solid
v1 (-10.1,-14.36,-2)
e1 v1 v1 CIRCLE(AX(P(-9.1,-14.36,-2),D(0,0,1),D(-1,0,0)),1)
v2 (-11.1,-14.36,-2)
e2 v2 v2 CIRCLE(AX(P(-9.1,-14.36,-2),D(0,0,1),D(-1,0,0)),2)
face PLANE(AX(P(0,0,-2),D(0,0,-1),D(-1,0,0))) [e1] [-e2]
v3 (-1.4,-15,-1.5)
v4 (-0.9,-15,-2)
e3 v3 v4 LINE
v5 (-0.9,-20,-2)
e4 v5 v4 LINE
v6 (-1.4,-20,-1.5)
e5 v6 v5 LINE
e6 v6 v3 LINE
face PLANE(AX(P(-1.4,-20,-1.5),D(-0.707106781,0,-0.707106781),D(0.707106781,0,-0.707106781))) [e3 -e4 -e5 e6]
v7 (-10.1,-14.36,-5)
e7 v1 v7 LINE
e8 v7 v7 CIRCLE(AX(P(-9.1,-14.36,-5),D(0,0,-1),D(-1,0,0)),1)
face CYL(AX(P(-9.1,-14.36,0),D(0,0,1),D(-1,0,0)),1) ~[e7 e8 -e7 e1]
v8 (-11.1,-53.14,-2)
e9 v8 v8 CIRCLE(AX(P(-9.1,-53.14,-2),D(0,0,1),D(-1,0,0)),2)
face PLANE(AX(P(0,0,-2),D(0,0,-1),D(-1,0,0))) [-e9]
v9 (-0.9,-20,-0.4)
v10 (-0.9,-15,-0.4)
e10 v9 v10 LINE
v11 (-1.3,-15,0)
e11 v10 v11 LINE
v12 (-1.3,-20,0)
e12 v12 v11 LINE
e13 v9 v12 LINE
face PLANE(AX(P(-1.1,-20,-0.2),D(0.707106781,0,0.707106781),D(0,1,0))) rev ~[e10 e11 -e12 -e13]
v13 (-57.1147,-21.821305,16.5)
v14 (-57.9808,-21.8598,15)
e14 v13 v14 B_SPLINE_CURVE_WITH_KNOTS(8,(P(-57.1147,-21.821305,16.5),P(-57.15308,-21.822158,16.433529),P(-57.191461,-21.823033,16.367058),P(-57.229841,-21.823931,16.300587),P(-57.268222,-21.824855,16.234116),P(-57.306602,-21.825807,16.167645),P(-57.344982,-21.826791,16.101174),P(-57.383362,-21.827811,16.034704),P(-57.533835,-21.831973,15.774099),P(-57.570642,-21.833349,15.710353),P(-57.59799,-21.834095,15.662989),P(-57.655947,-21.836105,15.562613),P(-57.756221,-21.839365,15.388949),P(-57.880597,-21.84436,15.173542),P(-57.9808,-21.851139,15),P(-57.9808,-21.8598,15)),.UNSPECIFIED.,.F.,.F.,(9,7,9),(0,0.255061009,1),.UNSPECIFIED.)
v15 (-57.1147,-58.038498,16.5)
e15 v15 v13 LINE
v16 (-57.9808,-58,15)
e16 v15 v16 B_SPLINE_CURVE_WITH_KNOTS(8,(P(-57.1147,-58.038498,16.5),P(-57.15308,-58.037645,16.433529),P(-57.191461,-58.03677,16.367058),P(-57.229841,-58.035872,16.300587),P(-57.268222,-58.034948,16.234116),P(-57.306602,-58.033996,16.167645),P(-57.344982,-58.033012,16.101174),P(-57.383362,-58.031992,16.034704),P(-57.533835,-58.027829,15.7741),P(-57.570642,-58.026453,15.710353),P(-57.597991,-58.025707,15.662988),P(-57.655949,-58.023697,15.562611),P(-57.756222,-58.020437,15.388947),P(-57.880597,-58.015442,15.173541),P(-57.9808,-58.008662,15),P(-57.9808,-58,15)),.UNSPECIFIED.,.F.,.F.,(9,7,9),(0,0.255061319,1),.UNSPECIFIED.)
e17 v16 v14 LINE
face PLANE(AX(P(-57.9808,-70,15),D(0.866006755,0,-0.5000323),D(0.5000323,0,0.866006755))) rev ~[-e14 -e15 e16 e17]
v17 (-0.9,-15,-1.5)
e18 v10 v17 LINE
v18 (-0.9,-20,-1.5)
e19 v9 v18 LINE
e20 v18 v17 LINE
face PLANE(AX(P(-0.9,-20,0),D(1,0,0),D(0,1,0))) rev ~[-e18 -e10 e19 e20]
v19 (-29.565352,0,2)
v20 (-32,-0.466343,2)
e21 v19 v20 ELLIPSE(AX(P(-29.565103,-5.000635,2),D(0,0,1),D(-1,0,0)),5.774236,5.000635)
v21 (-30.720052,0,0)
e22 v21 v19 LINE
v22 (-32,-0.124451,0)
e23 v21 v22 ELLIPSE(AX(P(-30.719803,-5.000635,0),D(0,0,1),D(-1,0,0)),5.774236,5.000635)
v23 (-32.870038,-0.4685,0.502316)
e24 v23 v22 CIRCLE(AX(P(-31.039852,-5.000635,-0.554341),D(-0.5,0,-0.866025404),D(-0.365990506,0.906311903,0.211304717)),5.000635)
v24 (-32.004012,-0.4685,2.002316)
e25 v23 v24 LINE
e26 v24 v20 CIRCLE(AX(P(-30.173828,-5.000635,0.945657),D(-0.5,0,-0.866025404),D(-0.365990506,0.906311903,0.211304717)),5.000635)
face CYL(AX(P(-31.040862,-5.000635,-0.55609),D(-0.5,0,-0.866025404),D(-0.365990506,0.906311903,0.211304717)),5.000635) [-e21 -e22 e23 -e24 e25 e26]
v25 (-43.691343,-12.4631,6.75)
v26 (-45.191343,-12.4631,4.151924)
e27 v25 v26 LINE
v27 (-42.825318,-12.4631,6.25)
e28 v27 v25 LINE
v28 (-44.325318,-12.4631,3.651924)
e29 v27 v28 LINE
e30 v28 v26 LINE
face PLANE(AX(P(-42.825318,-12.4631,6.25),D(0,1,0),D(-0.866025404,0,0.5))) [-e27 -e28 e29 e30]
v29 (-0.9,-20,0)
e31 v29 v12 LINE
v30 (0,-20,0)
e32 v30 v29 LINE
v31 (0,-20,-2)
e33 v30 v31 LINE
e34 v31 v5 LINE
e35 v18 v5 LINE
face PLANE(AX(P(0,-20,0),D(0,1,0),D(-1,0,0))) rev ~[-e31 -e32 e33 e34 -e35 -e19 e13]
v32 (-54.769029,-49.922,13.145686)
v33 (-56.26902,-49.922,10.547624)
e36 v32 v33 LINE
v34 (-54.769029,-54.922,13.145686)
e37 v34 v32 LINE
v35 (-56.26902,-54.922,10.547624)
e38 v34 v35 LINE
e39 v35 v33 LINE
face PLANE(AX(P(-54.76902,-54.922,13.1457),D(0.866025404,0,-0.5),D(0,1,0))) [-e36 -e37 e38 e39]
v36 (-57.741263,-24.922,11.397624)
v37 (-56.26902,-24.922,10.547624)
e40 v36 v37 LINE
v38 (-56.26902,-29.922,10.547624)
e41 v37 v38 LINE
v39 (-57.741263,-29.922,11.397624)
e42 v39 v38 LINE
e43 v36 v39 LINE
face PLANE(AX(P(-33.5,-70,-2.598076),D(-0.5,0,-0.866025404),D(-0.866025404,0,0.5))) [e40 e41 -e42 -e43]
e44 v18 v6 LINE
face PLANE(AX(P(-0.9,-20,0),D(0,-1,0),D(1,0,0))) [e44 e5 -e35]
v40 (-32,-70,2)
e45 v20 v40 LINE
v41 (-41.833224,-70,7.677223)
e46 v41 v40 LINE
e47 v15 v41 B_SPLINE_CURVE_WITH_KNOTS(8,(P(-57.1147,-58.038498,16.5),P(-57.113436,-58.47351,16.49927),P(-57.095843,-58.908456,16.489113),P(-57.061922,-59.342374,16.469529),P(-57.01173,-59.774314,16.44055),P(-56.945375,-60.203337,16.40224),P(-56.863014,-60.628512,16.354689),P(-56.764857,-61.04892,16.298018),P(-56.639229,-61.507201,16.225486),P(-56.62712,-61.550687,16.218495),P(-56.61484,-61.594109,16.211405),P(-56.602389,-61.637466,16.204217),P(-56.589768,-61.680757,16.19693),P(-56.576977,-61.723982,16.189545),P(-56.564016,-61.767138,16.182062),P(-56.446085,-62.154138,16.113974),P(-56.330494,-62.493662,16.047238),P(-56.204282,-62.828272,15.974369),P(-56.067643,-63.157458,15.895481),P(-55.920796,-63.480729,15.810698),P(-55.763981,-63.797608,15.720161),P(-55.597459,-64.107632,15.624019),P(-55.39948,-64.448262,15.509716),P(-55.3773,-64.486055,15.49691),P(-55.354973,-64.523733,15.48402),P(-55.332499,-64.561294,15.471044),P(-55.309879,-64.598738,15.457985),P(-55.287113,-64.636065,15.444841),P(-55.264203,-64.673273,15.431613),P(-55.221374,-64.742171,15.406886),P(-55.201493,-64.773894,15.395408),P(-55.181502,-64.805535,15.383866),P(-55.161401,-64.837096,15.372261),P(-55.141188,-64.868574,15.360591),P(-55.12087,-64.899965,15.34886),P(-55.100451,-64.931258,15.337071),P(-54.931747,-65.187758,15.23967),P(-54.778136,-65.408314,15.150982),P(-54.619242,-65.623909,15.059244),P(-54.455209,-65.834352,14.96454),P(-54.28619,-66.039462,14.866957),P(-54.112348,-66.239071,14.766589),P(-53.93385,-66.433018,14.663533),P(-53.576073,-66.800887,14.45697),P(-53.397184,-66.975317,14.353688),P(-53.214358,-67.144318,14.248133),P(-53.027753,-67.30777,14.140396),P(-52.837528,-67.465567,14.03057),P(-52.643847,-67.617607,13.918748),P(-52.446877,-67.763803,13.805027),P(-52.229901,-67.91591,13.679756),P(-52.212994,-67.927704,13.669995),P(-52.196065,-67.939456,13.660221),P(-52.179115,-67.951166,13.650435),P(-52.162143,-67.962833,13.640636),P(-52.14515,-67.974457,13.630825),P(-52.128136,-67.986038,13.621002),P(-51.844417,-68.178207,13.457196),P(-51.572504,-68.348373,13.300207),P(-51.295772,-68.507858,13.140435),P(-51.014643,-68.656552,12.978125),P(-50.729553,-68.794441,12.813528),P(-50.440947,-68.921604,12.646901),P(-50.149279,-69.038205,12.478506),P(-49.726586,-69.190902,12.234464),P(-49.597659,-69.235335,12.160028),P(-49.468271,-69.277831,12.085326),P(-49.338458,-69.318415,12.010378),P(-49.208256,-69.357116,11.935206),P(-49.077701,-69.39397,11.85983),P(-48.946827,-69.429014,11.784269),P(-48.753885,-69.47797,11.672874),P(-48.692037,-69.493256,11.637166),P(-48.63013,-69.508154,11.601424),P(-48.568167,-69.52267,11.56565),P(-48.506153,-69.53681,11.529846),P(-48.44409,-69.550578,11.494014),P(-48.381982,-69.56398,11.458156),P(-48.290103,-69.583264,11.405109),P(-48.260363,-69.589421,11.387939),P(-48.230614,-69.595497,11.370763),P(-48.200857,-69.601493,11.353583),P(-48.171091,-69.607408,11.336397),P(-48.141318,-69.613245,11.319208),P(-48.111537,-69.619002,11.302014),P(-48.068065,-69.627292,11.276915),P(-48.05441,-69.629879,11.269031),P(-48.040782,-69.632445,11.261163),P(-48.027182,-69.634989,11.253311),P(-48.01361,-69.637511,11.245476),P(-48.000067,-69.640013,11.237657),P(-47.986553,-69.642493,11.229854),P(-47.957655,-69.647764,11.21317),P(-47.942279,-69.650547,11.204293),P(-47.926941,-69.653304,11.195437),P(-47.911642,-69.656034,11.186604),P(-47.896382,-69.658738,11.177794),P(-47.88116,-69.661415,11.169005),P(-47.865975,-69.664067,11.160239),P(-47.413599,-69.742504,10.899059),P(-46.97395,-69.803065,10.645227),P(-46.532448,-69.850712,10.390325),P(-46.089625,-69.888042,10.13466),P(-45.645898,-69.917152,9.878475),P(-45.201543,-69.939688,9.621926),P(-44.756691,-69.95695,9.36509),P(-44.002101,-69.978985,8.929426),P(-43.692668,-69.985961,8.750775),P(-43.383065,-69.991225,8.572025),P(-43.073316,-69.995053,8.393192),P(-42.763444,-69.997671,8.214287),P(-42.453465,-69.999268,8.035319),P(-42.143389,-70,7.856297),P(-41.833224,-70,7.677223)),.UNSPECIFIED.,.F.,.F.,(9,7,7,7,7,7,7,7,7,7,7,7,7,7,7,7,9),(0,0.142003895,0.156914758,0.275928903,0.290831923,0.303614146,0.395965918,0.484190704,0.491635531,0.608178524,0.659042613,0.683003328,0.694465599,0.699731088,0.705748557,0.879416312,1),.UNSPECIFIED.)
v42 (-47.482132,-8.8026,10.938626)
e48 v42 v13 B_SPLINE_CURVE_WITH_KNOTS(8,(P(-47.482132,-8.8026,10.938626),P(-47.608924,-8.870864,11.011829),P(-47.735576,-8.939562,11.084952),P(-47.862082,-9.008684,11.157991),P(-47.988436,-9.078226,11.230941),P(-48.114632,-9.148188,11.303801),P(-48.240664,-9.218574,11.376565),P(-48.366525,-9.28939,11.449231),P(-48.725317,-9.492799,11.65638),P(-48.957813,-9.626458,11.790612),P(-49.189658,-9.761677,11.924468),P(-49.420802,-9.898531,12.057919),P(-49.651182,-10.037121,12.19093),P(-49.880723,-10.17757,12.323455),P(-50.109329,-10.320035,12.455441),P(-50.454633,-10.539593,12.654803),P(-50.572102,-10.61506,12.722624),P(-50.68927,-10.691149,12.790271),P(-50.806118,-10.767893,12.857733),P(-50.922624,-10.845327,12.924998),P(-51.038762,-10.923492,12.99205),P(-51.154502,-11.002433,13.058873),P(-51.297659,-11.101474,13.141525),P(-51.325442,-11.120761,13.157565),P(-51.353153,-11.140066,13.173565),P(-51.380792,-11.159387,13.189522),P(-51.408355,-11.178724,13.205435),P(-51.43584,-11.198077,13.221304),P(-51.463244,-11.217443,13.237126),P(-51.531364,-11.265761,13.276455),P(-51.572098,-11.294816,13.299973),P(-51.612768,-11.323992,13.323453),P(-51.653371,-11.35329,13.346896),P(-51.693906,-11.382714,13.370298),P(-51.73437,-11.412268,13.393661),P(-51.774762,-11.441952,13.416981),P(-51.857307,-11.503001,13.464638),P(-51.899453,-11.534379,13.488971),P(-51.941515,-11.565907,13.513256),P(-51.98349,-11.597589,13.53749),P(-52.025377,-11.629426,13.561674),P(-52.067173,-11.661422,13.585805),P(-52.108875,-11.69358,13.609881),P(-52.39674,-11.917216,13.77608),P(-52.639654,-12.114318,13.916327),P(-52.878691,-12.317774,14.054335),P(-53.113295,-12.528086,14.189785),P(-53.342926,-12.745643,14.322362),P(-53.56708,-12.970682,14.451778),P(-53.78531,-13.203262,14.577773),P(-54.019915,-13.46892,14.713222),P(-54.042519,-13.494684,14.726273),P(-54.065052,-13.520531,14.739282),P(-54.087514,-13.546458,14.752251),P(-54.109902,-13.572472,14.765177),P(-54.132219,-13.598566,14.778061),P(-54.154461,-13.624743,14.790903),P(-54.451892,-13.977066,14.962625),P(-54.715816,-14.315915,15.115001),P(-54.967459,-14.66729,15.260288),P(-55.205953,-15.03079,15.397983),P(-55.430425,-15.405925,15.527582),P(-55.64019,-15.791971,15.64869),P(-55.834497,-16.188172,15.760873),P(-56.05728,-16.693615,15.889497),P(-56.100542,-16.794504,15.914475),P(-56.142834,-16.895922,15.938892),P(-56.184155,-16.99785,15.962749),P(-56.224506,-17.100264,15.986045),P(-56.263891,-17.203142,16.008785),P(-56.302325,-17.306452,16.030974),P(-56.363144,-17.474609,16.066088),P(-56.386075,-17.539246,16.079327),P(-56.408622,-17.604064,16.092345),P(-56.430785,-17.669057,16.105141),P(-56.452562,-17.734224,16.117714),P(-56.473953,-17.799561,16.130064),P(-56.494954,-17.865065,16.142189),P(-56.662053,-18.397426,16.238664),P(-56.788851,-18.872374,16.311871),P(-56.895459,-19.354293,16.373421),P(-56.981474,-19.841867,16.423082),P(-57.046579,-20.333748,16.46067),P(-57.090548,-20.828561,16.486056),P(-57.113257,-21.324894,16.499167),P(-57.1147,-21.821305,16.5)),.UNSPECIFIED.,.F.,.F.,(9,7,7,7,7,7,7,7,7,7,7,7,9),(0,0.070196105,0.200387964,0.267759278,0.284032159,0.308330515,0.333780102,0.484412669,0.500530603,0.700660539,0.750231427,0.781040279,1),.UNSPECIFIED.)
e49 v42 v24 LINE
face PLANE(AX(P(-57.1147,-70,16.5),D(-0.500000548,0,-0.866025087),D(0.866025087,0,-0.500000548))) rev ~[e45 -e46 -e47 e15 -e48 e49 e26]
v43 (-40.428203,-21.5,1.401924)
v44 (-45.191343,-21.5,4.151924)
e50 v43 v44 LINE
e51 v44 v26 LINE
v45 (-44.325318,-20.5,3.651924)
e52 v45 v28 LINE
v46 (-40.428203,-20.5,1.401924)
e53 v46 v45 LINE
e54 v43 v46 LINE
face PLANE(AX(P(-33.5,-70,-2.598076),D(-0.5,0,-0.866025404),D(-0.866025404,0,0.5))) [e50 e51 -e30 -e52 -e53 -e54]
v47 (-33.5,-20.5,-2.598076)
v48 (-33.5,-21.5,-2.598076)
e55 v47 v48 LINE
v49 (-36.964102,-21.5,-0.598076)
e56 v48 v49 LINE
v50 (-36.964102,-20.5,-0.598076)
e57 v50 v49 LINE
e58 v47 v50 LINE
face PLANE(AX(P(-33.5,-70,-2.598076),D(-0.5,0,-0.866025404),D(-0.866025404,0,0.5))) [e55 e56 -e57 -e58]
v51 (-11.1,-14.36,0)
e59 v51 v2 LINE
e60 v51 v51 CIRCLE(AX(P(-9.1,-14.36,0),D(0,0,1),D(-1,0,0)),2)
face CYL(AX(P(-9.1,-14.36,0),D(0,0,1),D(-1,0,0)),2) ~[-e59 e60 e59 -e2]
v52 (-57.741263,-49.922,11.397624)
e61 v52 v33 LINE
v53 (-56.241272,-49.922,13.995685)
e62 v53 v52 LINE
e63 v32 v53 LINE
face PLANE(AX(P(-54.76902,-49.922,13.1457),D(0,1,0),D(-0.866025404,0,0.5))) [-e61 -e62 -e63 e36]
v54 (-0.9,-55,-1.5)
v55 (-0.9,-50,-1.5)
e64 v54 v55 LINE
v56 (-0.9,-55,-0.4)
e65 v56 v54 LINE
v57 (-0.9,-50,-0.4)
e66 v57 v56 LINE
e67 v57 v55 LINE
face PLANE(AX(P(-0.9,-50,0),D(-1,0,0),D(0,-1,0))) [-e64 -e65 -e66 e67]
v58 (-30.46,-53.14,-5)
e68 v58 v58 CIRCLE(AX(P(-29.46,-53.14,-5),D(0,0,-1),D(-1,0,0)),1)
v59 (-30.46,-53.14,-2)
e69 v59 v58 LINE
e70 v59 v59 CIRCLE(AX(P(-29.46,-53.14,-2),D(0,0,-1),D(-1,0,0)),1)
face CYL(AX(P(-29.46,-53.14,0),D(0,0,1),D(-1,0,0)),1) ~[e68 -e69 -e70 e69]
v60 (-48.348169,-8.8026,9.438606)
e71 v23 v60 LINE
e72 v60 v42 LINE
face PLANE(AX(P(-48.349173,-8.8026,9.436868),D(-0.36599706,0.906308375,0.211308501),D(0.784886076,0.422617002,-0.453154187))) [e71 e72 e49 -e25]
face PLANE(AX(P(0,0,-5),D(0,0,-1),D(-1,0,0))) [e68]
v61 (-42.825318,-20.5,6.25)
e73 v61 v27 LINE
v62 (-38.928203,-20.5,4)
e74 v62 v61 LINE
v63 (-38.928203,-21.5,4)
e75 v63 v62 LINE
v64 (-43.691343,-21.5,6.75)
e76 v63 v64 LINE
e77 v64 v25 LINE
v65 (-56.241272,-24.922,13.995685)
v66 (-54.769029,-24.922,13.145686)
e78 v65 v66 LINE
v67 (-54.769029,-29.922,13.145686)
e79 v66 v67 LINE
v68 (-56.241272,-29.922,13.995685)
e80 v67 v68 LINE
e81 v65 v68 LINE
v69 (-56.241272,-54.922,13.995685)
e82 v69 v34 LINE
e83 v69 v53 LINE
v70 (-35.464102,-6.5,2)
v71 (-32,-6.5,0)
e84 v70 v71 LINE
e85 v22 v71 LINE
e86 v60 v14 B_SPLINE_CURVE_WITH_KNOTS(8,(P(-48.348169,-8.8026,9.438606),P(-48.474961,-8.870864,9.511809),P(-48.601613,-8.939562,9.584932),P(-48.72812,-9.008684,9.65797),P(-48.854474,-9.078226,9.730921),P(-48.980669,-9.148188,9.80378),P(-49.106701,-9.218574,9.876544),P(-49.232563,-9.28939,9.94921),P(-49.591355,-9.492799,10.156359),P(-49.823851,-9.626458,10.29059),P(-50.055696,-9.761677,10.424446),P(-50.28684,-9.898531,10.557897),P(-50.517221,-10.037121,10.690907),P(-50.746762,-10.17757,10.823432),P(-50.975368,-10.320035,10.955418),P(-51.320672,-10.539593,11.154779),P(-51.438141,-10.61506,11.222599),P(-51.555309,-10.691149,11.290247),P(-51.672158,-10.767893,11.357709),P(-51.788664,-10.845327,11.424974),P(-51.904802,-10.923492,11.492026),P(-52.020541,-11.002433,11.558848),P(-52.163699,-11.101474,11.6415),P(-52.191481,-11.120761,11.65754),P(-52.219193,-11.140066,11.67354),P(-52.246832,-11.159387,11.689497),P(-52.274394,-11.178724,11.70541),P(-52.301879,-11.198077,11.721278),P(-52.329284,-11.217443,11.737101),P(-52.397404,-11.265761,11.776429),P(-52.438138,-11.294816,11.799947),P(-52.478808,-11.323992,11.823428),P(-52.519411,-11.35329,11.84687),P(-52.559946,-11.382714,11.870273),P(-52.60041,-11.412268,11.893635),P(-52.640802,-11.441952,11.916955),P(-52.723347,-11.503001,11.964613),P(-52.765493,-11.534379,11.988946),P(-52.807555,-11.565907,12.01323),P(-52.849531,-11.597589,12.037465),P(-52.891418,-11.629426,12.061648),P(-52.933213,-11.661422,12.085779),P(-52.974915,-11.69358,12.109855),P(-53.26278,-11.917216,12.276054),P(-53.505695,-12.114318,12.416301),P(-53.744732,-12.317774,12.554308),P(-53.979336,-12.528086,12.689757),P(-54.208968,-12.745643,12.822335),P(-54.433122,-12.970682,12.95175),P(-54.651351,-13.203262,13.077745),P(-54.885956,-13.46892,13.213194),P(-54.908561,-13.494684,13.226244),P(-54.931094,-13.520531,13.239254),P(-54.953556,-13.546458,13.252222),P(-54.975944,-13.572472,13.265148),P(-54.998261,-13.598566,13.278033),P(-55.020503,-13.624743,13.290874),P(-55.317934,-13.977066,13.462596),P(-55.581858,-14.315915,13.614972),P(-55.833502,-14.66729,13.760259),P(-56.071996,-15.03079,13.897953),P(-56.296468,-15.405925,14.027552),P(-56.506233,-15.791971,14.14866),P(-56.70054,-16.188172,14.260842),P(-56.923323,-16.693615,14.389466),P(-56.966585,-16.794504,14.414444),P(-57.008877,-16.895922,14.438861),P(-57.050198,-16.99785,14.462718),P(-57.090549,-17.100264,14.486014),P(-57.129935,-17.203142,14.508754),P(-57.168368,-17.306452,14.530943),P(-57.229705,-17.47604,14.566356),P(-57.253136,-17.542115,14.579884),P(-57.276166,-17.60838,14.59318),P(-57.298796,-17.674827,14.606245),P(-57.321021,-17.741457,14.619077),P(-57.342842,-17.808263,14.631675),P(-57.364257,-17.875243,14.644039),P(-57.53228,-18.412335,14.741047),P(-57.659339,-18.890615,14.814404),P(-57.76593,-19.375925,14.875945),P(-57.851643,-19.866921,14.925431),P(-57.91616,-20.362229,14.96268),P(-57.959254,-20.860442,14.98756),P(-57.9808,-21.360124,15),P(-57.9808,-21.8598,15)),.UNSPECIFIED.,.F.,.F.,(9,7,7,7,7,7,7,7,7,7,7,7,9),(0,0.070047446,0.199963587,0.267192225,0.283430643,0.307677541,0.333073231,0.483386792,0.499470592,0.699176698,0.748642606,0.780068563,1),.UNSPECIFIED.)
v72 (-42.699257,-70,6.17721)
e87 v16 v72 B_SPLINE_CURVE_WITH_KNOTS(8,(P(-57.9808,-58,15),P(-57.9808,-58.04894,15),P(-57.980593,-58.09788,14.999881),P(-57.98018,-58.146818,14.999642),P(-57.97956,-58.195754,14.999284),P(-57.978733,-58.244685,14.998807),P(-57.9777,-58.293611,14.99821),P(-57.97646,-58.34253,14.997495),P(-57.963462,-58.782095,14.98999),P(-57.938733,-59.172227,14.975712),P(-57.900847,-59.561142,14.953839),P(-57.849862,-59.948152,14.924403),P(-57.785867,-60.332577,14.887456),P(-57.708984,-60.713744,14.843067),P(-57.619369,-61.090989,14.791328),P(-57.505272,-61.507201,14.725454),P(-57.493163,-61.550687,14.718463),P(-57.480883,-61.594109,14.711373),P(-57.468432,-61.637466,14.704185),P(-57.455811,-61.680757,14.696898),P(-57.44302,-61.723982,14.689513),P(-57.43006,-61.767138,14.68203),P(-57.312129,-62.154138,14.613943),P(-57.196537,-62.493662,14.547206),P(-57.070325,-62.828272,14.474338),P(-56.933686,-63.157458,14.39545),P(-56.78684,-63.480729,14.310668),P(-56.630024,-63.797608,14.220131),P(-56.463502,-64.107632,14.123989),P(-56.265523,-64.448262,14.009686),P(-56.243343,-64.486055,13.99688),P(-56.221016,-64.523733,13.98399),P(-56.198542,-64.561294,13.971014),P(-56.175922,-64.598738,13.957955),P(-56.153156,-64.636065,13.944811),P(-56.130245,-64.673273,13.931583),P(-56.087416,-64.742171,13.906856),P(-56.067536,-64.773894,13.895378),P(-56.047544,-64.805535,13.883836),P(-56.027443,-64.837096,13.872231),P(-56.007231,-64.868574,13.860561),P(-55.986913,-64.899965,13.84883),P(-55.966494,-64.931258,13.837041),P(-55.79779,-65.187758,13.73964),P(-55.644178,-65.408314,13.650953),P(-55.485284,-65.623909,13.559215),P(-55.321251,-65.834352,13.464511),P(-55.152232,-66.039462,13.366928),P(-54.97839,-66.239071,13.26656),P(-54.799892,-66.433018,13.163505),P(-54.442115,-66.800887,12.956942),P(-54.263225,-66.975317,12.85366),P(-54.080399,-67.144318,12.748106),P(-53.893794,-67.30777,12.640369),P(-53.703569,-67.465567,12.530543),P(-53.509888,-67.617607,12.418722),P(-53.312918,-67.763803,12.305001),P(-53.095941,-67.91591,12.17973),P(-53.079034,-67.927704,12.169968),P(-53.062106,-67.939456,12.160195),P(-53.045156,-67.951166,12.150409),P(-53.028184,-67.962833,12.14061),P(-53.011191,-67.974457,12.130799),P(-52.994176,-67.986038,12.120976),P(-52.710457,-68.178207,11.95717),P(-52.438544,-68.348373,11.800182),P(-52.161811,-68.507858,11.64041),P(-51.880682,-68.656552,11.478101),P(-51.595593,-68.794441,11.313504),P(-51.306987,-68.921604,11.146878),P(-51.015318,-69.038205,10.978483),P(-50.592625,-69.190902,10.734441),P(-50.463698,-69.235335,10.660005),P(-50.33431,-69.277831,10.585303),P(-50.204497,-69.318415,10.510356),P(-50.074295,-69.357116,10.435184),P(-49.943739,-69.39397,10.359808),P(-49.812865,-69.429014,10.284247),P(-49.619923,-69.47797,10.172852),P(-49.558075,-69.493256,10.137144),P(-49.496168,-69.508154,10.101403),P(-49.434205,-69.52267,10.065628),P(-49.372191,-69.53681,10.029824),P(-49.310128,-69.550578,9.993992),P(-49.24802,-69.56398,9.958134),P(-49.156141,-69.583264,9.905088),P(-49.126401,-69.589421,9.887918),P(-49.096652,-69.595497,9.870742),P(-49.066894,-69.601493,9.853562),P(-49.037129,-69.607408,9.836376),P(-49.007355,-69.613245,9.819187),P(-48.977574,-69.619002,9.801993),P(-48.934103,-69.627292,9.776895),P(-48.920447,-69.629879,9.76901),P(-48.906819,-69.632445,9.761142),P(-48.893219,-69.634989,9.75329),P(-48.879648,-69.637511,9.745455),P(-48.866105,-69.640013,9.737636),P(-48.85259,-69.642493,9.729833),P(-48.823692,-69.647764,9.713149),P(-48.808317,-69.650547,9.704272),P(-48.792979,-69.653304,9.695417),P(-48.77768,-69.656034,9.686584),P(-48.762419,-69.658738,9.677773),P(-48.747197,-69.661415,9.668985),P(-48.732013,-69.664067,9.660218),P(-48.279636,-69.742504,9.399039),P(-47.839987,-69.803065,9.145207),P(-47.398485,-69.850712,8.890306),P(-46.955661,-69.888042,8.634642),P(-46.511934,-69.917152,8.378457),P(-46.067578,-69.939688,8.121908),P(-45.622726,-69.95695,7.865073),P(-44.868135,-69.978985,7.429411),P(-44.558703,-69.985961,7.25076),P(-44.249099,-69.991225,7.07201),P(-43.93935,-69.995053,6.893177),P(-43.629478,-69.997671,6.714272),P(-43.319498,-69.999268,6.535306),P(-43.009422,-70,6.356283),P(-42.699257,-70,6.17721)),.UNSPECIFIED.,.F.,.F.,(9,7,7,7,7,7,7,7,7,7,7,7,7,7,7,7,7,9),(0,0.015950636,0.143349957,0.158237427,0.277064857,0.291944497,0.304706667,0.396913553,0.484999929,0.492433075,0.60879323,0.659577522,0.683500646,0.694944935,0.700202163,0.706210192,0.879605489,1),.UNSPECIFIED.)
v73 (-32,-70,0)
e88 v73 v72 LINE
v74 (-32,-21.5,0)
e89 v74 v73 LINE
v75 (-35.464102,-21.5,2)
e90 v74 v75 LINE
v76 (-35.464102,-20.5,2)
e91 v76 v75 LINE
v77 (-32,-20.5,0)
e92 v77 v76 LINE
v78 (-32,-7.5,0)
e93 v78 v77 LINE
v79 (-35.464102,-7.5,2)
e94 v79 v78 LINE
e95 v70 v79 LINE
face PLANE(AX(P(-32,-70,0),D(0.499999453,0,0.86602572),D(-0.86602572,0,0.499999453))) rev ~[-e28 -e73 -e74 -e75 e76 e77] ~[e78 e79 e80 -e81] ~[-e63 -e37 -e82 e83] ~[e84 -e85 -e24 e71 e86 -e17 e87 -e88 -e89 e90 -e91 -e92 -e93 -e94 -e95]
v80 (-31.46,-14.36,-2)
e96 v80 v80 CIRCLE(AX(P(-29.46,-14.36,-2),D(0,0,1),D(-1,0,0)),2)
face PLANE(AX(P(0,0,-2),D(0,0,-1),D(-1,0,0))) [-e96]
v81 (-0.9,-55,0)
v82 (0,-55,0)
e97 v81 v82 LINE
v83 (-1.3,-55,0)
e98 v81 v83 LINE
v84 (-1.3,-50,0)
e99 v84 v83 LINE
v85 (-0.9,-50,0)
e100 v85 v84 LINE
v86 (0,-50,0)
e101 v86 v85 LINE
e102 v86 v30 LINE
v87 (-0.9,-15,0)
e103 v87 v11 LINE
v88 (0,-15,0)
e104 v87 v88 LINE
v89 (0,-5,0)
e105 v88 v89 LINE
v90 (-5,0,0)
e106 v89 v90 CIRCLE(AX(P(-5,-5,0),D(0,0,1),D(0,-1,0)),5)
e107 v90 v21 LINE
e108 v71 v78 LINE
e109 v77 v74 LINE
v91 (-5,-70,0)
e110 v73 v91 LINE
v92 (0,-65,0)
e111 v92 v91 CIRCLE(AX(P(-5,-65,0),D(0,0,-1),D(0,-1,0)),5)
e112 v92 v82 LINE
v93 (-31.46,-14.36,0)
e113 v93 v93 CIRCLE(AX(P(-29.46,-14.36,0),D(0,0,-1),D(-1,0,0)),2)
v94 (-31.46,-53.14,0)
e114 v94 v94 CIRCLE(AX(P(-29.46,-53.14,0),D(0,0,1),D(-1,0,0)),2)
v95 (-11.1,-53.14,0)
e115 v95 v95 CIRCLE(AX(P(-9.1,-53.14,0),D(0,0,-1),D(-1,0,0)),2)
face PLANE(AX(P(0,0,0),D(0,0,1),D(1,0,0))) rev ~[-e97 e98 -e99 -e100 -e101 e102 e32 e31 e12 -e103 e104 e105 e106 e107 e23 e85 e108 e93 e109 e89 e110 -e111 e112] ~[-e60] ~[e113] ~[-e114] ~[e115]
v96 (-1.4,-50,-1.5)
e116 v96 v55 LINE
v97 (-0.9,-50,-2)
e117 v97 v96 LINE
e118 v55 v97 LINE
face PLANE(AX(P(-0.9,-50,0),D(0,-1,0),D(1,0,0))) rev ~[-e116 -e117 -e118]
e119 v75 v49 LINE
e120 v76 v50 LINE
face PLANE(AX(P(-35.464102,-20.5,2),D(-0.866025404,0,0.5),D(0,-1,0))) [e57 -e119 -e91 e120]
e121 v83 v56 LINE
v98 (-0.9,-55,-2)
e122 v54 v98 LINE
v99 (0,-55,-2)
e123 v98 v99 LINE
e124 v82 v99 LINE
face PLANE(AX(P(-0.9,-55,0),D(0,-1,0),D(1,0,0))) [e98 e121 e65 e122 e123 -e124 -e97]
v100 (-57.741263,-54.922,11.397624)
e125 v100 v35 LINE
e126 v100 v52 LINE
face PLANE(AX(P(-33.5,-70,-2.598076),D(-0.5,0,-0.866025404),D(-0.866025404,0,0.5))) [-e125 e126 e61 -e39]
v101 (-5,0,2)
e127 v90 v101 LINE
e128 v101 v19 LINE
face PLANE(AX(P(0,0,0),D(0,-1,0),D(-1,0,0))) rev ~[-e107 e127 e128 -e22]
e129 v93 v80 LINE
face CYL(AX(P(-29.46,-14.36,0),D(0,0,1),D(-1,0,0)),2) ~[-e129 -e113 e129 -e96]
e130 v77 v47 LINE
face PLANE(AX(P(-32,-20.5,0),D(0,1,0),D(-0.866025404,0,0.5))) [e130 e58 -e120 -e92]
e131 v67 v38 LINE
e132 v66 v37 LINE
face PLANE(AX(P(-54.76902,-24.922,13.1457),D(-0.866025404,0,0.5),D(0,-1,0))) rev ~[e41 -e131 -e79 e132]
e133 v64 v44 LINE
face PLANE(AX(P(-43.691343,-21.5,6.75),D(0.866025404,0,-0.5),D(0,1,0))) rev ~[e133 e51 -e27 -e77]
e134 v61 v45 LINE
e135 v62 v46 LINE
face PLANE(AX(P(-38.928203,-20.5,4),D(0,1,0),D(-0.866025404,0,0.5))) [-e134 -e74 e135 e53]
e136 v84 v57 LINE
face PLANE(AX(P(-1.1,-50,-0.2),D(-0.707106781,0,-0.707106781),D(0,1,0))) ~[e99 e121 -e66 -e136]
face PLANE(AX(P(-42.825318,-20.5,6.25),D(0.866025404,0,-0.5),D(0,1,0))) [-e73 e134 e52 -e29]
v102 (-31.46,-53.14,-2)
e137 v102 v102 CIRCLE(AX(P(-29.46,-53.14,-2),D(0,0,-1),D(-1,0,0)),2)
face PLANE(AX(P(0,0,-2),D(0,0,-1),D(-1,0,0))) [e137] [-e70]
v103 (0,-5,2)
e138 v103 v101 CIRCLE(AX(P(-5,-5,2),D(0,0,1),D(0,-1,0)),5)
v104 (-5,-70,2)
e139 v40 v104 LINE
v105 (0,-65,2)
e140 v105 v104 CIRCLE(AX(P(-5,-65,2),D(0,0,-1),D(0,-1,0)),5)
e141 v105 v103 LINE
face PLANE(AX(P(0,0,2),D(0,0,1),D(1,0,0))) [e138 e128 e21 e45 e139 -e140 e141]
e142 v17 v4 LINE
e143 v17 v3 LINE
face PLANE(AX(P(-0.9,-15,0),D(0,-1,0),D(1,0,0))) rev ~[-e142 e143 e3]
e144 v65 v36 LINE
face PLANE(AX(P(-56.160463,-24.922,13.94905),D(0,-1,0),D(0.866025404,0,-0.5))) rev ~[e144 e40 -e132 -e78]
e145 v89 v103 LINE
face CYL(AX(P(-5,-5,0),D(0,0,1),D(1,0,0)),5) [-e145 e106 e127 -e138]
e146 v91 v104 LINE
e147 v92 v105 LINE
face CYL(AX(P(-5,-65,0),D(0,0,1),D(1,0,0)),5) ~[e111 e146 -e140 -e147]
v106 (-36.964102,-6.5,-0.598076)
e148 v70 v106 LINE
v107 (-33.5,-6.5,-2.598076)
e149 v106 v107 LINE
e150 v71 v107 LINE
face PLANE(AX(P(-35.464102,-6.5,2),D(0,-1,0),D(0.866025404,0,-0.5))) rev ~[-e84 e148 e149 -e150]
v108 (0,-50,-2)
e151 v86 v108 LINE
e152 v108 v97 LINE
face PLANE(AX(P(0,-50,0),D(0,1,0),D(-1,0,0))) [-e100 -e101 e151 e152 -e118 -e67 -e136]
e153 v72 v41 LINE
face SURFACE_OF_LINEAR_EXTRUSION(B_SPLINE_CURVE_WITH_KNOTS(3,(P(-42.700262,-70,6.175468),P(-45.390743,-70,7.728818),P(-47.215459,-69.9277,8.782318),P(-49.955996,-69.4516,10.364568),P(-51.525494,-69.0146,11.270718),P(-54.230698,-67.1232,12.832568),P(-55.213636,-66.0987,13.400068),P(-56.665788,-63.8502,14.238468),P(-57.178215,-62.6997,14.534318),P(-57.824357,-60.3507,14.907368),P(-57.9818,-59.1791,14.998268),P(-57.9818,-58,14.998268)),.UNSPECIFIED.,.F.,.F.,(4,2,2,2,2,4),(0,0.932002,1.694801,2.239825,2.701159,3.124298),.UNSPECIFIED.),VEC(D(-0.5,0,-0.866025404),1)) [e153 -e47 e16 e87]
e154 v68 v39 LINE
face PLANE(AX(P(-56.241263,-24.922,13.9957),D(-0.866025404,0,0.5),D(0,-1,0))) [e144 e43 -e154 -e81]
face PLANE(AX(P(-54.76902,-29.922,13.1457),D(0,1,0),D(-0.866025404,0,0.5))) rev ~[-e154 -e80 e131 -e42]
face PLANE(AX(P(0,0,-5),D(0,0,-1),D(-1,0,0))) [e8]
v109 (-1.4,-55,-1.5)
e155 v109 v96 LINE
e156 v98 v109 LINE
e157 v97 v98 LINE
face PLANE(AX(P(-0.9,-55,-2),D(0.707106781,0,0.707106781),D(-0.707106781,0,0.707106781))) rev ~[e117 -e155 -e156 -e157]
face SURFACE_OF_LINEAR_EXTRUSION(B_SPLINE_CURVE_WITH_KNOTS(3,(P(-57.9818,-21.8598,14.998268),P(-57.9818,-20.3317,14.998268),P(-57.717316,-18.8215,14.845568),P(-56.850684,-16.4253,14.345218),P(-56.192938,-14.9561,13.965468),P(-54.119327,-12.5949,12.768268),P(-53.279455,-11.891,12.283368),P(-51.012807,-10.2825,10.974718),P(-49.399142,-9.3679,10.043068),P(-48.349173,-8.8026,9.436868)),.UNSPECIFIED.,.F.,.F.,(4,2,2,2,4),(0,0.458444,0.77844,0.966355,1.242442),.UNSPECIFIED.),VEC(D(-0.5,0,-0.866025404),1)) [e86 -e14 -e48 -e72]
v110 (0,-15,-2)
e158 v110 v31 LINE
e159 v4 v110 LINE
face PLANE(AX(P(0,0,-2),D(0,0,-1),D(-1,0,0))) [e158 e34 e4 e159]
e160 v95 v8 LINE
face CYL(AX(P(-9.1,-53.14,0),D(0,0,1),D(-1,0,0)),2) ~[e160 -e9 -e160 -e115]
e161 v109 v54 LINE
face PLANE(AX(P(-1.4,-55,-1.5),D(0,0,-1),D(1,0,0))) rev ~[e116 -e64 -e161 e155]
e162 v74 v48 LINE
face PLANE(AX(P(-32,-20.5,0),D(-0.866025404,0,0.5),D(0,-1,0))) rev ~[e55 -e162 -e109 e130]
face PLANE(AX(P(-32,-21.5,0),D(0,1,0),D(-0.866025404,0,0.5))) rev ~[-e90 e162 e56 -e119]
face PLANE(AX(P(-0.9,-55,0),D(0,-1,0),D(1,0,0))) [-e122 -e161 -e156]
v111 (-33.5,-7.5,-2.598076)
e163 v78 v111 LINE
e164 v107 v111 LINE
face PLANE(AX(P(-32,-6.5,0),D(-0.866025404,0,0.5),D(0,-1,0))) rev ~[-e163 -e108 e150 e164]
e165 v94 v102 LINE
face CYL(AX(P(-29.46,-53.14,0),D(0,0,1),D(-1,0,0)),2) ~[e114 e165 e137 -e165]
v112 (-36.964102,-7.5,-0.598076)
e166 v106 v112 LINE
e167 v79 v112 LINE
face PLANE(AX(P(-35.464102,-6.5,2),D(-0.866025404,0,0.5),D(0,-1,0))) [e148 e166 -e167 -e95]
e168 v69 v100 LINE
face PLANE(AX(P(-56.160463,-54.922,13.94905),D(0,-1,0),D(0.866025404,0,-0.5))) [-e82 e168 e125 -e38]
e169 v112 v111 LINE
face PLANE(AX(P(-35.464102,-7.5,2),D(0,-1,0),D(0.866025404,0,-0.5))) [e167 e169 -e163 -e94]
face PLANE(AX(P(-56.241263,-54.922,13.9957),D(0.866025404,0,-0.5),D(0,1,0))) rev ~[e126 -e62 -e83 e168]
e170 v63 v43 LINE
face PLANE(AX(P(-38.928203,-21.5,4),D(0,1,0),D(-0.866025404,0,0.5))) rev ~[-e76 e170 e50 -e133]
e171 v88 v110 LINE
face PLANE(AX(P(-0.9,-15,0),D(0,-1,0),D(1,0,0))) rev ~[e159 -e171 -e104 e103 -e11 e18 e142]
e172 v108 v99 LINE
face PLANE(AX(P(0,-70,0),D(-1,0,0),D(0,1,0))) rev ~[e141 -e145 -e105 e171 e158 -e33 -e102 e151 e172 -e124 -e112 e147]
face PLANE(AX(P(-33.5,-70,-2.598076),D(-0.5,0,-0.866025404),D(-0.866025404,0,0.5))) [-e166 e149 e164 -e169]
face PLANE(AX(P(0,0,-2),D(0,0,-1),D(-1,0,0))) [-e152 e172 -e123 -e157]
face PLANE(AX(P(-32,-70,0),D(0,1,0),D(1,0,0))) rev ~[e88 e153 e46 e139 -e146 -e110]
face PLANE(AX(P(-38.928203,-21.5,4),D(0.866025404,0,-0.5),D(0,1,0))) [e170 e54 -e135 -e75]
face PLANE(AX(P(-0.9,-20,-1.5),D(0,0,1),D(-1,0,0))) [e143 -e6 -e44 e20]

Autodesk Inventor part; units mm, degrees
ref_plane "YZ Plane" through (0, 0, 0) normal (1, 0, 0) x (0, 1, 0)
ref_plane "XZ Plane" through (0, 0, 0) normal (0, 1, 0) x (-1, 0, 0)
ref_plane "XY Plane" through (0, 0, 0) normal (0, 0, 1) x (1, 0, 0)
sketch "スケッチ1" plane through (0, 0, 0) normal (0, 0, 1) x (1, 0, 0)
  line L0 (0, 0) -> (-32, 0)
  line L1 (-32, 0) -> (-32, -70)
  line L2 (-32, -70) -> (0, -70)
  line L3 (0, -70) -> (0, 0)
  dimension "d0" = 32
  dimension "d1" = 70
extrude "押し出し1" add sketch "スケッチ1" along normal blind 2
sketch "スケッチ2" plane through (-32, -70, 0) normal (0, -1, 0) x (1, 0, 0)
  line L0 (0, 0) -> (32, 0) projected
  line L1 (32, 0) -> (32, 2) projected
  line L2 (0, 2) -> (32, 2) projected
  line L3 (0, 0) -> (0, 2) projected
  line L4 (0, 0) -> (-25.9808, 15)
  line L5 (-25.9808, 15) -> (-25.1147, 16.5)
  line L6 (-25.1147, 16.5) -> (0, 2)
  point P0 (32, 0)
  dimension "d4" = 30
  dimension "d5" = 150
extrude "押し出し2" add sketch "スケッチ2" against normal blind 70 contours L4 L5 L6 L3
sketch "スケッチ3" plane through (0, 0, 0) normal (0, 0, -1) x (-1, 0, 0)
  line L0 (0, 0) -> (32, 0) projected
  line L1 (32, 0) -> (57.9808, -12.115)
  line L2 (32, 0) -> (57.9808, 0) projected
  line L3 (57.9808, -70) -> (57.9808, 0) projected
  dimension "d8" = 25
extrude "押し出し3" cut sketch "スケッチ3" against normal blind 70
sketch "スケッチ4" plane through (0, 0, 0) normal (0, 0, -1) x (-1, 0, 0)
  circle A0 centre (9.1, -14.36) radius 1.15 projected
  circle A1 centre (29.46, -53.14) radius 1.15 projected
  circle A2 centre (9.1, -14.36) radius 1
  circle A3 centre (29.46, -53.14) radius 1
  point P0 (0, 0)
  dimension "d11" = 2
  dimension "d12" = 2
extrude "押し出し4" add sketch "スケッチ4" along normal blind 5 contours A2 | A3
sketch "スケッチ5" plane through (0, 0, 0) normal (0, 0, -1) x (-1, 0, 0)
  circle A0 centre (9.1, -14.36) radius 1 projected
  circle A1 centre (29.46, -53.14) radius 1 projected
  circle A2 centre (9.1, -14.36) radius 2
  circle A3 centre (29.46, -53.14) radius 2
  line L0 (9.1, -14.36) -> (29.46, -14.36)
  line L1 (29.46, -14.36) -> (29.46, -53.14)
  line L2 (29.46, -53.14) -> (9.1, -53.14)
  line L3 (9.1, -53.14) -> (9.1, -14.36)
  circle A4 centre (29.46, -14.36) radius 2
  circle A5 centre (9.1, -53.14) radius 2
  point P0 (0, 0)
  dimension "d15" = 4
  dimension "d16" = 4
  dimension "d17" = 4
  dimension "d18" = 4
extrude "押し出し5" add sketch "スケッチ5" along normal blind 2 contours L0 L3 A0 | L0 A2 L3 A0 | A0 L3 L0 | A0 L3 A2 L0 | A4 L1 L0 | L0 L1 A4 | A5 L2 L3 | L3 L2 A5 | L1 A1 L2 A3 | A3 L2 A1 L1
sketch "スケッチ6" plane through (-32, -70, 0) normal (-0.5, 0, -0.866) x (-0.866, 0, 0.5)
  circle A0 centre (6, 56) radius 4 projected
  line L0 (12, 62) -> (0, 62) projected
  line L1 (0, 62) -> (0, 50) projected
  line L2 (0, 50) -> (12, 50) projected
  line L3 (12, 50) -> (12, 62) projected
  line L4 (12.5, 62.5) -> (-0.5, 62.5)
  line L5 (-0.5, 62.5) -> (-0.5, 49.5)
  line L6 (-0.5, 49.5) -> (12.5, 49.5)
  line L7 (12.5, 49.5) -> (12.5, 62.5)
  line L8 (13.5, 63.5) -> (-1.5, 63.5)
  line L9 (-1.5, 63.5) -> (-1.5, 48.5)
  line L10 (-1.5, 48.5) -> (13.5, 48.5)
  line L11 (13.5, 48.5) -> (13.5, 63.5)
  line L12 (4, 48.5) -> (8, 48.5)
  line L13 (8, 48.5) -> (8, 49.5)
  line L14 (8, 49.5) -> (4, 49.5)
  line L15 (4, 49.5) -> (4, 48.5)
  line L16 (4, 62.5) -> (8, 62.5)
  line L17 (8, 62.5) -> (8, 63.5)
  line L18 (8, 63.5) -> (4, 63.5)
  line L19 (4, 63.5) -> (4, 62.5)
  line L20 (6, 48.5) -> (6, 63.5)
  line L21 (0, 70) -> (0, 0) projected
  line L22 (0, 48.5) -> (0, 63.5)
  line L23 (12.5, 57.5369) -> (13.5, 57.5369)
  point P0 (-27.7128, 70)
  point P1 (0, 62.5)
  point P2 (0, 49.5)
  point P3 (4, 49.5)
  dimension "d21" = 0.5
  dimension "d22" = 1
  dimension "d23" = 4
  dimension "d24" = 7.5
  dimension "d25" = 2
extrude "押し出し6" add sketch "スケッチ6" along normal blind 3 contours L21 L8 L19 L4 | L6 L15 L10 L21 | L6 L7 L23 L11 L10 L13
sketch "スケッチ9" plane through (-57.9808, -70, 15) normal (-0.5, 0, -0.866) x (-0.866, 0, 0.5)
  line L0 (-57.7128, 70) -> (-30, 70) projected
  spline S0 degree 3 poles (-17.6456, 0) (-14.5389, 0) (-12.4319, 0.0723) (-9.2674, 0.5484) (-7.4551, 0.9854) (-4.3314, 2.8768) (-3.1964, 3.9013) (-1.5196, 6.1498) (-0.9279, 7.3003) (-0.1818, 9.6493) (0, 10.8209) (0, 12) knots 0 0 0 0 0.932002 0.932002 1.694801 1.694801 2.239825 2.239825 2.701159 2.701159 3.124298 3.124298 3.124298 3.124298 projected
  spline S1 degree 3 poles (0, 48.1402) (0, 49.6683) (-0.3054, 51.1785) (-1.3061, 53.5747) (-2.0656, 55.0439) (-4.46, 57.4051) (-5.4298, 58.109) (-8.0471, 59.7175) (-9.9104, 60.6321) (-11.1228, 61.1974) knots 0 0 0 0 0.458444 0.458444 0.77844 0.77844 0.966355 0.966355 1.242442 1.242442 1.242442 1.242442 projected
  line L1 (-11.1228, 61.1974) -> (-28.9954, 69.5315) projected
  line L2 (-11.1228, 61.1974) -> (-28.9954, 69.5315) projected
  arc A0 (-28.9954, 69.5315) -> (-31.1085, 70) centre (-31.1085, 65) ccw projected
  line L3 (0, 57.885) -> (-30, 70) projected
  line L4 (0, 0) -> (0, 57.885) projected
  line L5 (0, 0) -> (-30, 0) projected
  line L6 (0, 57.885) -> (0, 70)
  line L7 (0, 70) -> (-31.1085, 70)
  point P0 (-53.3827, 70)
  point P1 (-30, 70)
extrude "押し出し9" cut sketch "スケッチ9" against normal blind 70
sketch "スケッチ10" plane through (-32, -70, 0) normal (-0.5, 0, -0.866) x (-0.866, 0, 0.5)
  spline S0 degree 3 poles (12.3544, 2) (14.3729, 2) (16.0097, 2.0362) (19.2589, 2.3162) (21.0143, 2.657) (23.8072, 4.1137) (24.8109, 4.9066) (26.4147, 6.7969) (27.0131, 7.8518) (27.7245, 9.9614) (27.8914, 10.977) (27.8914, 11.9999) knots 0 0 0 0 0.605548 0.605548 1.419175 1.419175 1.976207 1.976207 2.502247 2.502247 2.949437 2.949437 2.949437 2.949437 projected
  spline S1 degree 3 poles (27.8914, 48.1552) (27.8914, 49.4139) (27.6391, 50.6569) (26.7879, 52.6951) (26.1446, 53.898) (24.1844, 55.8315) (23.3911, 56.4221) (21.0683, 57.9103) (19.2685, 58.8082) (18.0319, 59.3848) knots 0 0 0 0 0.377607 0.377607 0.661941 0.661941 0.825328 0.825328 1.114005 1.114005 1.114005 1.114005 projected
  line L0 (27.8981, 15.078) -> (26.2914, 15.078)
  line L1 (26.2914, 15.078) -> (26.2914, 20.078)
  line L2 (26.2914, 20.078) -> (27.8981, 20.078)
  line L3 (27.8981, 20.078) -> (27.8981, 15.078)
  line L4 (27.8981, 15.078) -> (27.9914, 15.078)
  line L5 (27.9914, 15.078) -> (27.9914, 20.078)
  line L6 (27.9914, 20.078) -> (27.8981, 20.078)
  line L7 (27.8981, 20.078) -> (27.8981, 15.078)
  spline S2 degree 3 poles (12.3544, 2) (14.3729, 2) (16.0097, 2.0362) (19.2589, 2.3162) (21.0143, 2.657) (23.8072, 4.1137) (24.8109, 4.9066) (26.4147, 6.7969) (27.0131, 7.8518) (27.7245, 9.9614) (27.8914, 10.977) (27.8914, 11.9999) knots 0 0 0 0 0.605548 0.605548 1.419175 1.419175 1.976207 1.976207 2.502247 2.502247 2.949437 2.949437 2.949437 2.949437 projected
  spline S3 degree 3 poles (27.8914, 48.1552) (27.8914, 49.4139) (27.6391, 50.6569) (26.7879, 52.6951) (26.1446, 53.898) (24.1844, 55.8315) (23.3911, 56.4221) (21.0683, 57.9103) (19.2685, 58.8082) (18.0319, 59.3848) knots 0 0 0 0 0.377607 0.377607 0.661941 0.661941 0.825328 0.825328 1.114005 1.114005 1.114005 1.114005 projected
  line L8 (30, 12) -> (30, 48.1402) projected
  line L9 (27.9457, 30.078) -> (29.9457, 30.078)
  line L10 (27.8981, 45.078) -> (26.2914, 45.078)
  line L11 (26.2914, 45.078) -> (26.2914, 40.078)
  line L12 (26.2914, 40.078) -> (27.8981, 40.078)
  line L13 (27.8981, 40.078) -> (27.8981, 45.078)
  line L14 (27.8981, 45.078) -> (27.9914, 45.078)
  line L15 (27.9914, 45.078) -> (27.9914, 40.078)
  line L16 (27.9914, 40.078) -> (27.8981, 40.078)
  line L17 (27.8981, 40.078) -> (27.8981, 45.078)
  line L18 (27.8914, 22.078) -> (27.8914, 38.078) projected
  point P0 (-27.7128, 70)
  point P1 (30, 48.1402)
  point P2 (28.9457, 30.078)
  point P3 (27.0948, 15.078)
  point P4 (27.0948, 45.078)
  point P5 (27.8981, 40.078)
  dimension "d34" = 5
  dimension "d38" = 5
  dimension "d55" = 15
  dimension "d58" = 0.1
  dimension "d59" = 1.6
  dimension "d60" = 8
  dimension "d61" = 2
extrude "押し出し10" add sketch "スケッチ10" along normal blind 3
sketch "スケッチ11" plane through (0, 0, 0) normal (0, 0, -1) x (-1, 0, 0)
  line L0 (0, 0) -> (0, -64.8508)
  line L1 (0, -20) -> (0.9, -20)
  line L2 (0.9, -20) -> (0.9, -15)
  line L3 (0.9, -15) -> (0, -15)
  line L4 (0, -15) -> (0, -20)
  line L5 (0, -35) -> (4.5878, -35)
  line L6 (0, -50) -> (0.9, -50)
  line L7 (0.9, -50) -> (0.9, -55)
  line L8 (0.9, -55) -> (0, -55)
  line L9 (0, -55) -> (0, -50)
  line L10 (0, 0) -> (29.5653, 0) projected
  line L11 (0, -70) -> (0, 0) projected
  point P0 (0, -50)
  point P1 (0, -55)
  point P2 (0, -15)
  dimension "d41" = 5
  dimension "d42" = 15
  dimension "d43" = 0.9
  dimension "d62" = 35
extrude "押し出し11" add sketch "スケッチ11" along normal blind 2
sketch "スケッチ12" plane through (-0.9, -55, 0) normal (0, -1, 0) x (1, 0, 0)
  line L0 (0, 0) -> (0.9, 0) projected
  line L1 (0, 0) -> (0, -2) projected
  line L2 (0.9, -2) -> (0, -2) projected
  line L3 (0.9, 0) -> (0.9, -2) projected
  line L4 (0, -2) -> (-0.5, -2)
  line L5 (-0.5, -2) -> (-0.5, -1.5)
  line L6 (-0.5, -1.5) -> (0, -1.5)
  line L7 (0, -1.5) -> (0, -2)
  line L8 (0, -2) -> (-0.5, -1.5)
  point P0 (0.9, 0)
  point P1 (0, -1.5)
  dimension "d46" = 0.5
  dimension "d47" = 0.5
extrude "押し出し12" add sketch "スケッチ12" against normal blind 5 contours L1 L8 L6
sketch "スケッチ13" plane through (-0.9, -20, 0) normal (0, -1, 0) x (1, 0, 0)
  line L0 (0, 0) -> (0.9, 0) projected
  line L1 (0, 0) -> (0, -1.5) projected
  line L2 (0, -1.5) -> (-0.5, -1.5) projected
  line L3 (-0.5, -1.5) -> (0, -2) projected
  line L4 (0.9, -2) -> (0, -2) projected
  line L5 (0.9, 0) -> (0.9, -2) projected
  line L6 (0, -2) -> (0, -1.5)
  point P0 (0.9, 0)
extrude "押し出し13" add sketch "スケッチ13" against normal blind 5 contours L6 L3 L2
chamfer "面取り1" distance 0.4 angle 45 2 edges at (-0.9, -17.5, 0) (-0.9, -52.5, 0)
fillet "フィレット1" radius 5 2 edges at (0, -70, 1) (0, 0, 1)
properties part number "case"
